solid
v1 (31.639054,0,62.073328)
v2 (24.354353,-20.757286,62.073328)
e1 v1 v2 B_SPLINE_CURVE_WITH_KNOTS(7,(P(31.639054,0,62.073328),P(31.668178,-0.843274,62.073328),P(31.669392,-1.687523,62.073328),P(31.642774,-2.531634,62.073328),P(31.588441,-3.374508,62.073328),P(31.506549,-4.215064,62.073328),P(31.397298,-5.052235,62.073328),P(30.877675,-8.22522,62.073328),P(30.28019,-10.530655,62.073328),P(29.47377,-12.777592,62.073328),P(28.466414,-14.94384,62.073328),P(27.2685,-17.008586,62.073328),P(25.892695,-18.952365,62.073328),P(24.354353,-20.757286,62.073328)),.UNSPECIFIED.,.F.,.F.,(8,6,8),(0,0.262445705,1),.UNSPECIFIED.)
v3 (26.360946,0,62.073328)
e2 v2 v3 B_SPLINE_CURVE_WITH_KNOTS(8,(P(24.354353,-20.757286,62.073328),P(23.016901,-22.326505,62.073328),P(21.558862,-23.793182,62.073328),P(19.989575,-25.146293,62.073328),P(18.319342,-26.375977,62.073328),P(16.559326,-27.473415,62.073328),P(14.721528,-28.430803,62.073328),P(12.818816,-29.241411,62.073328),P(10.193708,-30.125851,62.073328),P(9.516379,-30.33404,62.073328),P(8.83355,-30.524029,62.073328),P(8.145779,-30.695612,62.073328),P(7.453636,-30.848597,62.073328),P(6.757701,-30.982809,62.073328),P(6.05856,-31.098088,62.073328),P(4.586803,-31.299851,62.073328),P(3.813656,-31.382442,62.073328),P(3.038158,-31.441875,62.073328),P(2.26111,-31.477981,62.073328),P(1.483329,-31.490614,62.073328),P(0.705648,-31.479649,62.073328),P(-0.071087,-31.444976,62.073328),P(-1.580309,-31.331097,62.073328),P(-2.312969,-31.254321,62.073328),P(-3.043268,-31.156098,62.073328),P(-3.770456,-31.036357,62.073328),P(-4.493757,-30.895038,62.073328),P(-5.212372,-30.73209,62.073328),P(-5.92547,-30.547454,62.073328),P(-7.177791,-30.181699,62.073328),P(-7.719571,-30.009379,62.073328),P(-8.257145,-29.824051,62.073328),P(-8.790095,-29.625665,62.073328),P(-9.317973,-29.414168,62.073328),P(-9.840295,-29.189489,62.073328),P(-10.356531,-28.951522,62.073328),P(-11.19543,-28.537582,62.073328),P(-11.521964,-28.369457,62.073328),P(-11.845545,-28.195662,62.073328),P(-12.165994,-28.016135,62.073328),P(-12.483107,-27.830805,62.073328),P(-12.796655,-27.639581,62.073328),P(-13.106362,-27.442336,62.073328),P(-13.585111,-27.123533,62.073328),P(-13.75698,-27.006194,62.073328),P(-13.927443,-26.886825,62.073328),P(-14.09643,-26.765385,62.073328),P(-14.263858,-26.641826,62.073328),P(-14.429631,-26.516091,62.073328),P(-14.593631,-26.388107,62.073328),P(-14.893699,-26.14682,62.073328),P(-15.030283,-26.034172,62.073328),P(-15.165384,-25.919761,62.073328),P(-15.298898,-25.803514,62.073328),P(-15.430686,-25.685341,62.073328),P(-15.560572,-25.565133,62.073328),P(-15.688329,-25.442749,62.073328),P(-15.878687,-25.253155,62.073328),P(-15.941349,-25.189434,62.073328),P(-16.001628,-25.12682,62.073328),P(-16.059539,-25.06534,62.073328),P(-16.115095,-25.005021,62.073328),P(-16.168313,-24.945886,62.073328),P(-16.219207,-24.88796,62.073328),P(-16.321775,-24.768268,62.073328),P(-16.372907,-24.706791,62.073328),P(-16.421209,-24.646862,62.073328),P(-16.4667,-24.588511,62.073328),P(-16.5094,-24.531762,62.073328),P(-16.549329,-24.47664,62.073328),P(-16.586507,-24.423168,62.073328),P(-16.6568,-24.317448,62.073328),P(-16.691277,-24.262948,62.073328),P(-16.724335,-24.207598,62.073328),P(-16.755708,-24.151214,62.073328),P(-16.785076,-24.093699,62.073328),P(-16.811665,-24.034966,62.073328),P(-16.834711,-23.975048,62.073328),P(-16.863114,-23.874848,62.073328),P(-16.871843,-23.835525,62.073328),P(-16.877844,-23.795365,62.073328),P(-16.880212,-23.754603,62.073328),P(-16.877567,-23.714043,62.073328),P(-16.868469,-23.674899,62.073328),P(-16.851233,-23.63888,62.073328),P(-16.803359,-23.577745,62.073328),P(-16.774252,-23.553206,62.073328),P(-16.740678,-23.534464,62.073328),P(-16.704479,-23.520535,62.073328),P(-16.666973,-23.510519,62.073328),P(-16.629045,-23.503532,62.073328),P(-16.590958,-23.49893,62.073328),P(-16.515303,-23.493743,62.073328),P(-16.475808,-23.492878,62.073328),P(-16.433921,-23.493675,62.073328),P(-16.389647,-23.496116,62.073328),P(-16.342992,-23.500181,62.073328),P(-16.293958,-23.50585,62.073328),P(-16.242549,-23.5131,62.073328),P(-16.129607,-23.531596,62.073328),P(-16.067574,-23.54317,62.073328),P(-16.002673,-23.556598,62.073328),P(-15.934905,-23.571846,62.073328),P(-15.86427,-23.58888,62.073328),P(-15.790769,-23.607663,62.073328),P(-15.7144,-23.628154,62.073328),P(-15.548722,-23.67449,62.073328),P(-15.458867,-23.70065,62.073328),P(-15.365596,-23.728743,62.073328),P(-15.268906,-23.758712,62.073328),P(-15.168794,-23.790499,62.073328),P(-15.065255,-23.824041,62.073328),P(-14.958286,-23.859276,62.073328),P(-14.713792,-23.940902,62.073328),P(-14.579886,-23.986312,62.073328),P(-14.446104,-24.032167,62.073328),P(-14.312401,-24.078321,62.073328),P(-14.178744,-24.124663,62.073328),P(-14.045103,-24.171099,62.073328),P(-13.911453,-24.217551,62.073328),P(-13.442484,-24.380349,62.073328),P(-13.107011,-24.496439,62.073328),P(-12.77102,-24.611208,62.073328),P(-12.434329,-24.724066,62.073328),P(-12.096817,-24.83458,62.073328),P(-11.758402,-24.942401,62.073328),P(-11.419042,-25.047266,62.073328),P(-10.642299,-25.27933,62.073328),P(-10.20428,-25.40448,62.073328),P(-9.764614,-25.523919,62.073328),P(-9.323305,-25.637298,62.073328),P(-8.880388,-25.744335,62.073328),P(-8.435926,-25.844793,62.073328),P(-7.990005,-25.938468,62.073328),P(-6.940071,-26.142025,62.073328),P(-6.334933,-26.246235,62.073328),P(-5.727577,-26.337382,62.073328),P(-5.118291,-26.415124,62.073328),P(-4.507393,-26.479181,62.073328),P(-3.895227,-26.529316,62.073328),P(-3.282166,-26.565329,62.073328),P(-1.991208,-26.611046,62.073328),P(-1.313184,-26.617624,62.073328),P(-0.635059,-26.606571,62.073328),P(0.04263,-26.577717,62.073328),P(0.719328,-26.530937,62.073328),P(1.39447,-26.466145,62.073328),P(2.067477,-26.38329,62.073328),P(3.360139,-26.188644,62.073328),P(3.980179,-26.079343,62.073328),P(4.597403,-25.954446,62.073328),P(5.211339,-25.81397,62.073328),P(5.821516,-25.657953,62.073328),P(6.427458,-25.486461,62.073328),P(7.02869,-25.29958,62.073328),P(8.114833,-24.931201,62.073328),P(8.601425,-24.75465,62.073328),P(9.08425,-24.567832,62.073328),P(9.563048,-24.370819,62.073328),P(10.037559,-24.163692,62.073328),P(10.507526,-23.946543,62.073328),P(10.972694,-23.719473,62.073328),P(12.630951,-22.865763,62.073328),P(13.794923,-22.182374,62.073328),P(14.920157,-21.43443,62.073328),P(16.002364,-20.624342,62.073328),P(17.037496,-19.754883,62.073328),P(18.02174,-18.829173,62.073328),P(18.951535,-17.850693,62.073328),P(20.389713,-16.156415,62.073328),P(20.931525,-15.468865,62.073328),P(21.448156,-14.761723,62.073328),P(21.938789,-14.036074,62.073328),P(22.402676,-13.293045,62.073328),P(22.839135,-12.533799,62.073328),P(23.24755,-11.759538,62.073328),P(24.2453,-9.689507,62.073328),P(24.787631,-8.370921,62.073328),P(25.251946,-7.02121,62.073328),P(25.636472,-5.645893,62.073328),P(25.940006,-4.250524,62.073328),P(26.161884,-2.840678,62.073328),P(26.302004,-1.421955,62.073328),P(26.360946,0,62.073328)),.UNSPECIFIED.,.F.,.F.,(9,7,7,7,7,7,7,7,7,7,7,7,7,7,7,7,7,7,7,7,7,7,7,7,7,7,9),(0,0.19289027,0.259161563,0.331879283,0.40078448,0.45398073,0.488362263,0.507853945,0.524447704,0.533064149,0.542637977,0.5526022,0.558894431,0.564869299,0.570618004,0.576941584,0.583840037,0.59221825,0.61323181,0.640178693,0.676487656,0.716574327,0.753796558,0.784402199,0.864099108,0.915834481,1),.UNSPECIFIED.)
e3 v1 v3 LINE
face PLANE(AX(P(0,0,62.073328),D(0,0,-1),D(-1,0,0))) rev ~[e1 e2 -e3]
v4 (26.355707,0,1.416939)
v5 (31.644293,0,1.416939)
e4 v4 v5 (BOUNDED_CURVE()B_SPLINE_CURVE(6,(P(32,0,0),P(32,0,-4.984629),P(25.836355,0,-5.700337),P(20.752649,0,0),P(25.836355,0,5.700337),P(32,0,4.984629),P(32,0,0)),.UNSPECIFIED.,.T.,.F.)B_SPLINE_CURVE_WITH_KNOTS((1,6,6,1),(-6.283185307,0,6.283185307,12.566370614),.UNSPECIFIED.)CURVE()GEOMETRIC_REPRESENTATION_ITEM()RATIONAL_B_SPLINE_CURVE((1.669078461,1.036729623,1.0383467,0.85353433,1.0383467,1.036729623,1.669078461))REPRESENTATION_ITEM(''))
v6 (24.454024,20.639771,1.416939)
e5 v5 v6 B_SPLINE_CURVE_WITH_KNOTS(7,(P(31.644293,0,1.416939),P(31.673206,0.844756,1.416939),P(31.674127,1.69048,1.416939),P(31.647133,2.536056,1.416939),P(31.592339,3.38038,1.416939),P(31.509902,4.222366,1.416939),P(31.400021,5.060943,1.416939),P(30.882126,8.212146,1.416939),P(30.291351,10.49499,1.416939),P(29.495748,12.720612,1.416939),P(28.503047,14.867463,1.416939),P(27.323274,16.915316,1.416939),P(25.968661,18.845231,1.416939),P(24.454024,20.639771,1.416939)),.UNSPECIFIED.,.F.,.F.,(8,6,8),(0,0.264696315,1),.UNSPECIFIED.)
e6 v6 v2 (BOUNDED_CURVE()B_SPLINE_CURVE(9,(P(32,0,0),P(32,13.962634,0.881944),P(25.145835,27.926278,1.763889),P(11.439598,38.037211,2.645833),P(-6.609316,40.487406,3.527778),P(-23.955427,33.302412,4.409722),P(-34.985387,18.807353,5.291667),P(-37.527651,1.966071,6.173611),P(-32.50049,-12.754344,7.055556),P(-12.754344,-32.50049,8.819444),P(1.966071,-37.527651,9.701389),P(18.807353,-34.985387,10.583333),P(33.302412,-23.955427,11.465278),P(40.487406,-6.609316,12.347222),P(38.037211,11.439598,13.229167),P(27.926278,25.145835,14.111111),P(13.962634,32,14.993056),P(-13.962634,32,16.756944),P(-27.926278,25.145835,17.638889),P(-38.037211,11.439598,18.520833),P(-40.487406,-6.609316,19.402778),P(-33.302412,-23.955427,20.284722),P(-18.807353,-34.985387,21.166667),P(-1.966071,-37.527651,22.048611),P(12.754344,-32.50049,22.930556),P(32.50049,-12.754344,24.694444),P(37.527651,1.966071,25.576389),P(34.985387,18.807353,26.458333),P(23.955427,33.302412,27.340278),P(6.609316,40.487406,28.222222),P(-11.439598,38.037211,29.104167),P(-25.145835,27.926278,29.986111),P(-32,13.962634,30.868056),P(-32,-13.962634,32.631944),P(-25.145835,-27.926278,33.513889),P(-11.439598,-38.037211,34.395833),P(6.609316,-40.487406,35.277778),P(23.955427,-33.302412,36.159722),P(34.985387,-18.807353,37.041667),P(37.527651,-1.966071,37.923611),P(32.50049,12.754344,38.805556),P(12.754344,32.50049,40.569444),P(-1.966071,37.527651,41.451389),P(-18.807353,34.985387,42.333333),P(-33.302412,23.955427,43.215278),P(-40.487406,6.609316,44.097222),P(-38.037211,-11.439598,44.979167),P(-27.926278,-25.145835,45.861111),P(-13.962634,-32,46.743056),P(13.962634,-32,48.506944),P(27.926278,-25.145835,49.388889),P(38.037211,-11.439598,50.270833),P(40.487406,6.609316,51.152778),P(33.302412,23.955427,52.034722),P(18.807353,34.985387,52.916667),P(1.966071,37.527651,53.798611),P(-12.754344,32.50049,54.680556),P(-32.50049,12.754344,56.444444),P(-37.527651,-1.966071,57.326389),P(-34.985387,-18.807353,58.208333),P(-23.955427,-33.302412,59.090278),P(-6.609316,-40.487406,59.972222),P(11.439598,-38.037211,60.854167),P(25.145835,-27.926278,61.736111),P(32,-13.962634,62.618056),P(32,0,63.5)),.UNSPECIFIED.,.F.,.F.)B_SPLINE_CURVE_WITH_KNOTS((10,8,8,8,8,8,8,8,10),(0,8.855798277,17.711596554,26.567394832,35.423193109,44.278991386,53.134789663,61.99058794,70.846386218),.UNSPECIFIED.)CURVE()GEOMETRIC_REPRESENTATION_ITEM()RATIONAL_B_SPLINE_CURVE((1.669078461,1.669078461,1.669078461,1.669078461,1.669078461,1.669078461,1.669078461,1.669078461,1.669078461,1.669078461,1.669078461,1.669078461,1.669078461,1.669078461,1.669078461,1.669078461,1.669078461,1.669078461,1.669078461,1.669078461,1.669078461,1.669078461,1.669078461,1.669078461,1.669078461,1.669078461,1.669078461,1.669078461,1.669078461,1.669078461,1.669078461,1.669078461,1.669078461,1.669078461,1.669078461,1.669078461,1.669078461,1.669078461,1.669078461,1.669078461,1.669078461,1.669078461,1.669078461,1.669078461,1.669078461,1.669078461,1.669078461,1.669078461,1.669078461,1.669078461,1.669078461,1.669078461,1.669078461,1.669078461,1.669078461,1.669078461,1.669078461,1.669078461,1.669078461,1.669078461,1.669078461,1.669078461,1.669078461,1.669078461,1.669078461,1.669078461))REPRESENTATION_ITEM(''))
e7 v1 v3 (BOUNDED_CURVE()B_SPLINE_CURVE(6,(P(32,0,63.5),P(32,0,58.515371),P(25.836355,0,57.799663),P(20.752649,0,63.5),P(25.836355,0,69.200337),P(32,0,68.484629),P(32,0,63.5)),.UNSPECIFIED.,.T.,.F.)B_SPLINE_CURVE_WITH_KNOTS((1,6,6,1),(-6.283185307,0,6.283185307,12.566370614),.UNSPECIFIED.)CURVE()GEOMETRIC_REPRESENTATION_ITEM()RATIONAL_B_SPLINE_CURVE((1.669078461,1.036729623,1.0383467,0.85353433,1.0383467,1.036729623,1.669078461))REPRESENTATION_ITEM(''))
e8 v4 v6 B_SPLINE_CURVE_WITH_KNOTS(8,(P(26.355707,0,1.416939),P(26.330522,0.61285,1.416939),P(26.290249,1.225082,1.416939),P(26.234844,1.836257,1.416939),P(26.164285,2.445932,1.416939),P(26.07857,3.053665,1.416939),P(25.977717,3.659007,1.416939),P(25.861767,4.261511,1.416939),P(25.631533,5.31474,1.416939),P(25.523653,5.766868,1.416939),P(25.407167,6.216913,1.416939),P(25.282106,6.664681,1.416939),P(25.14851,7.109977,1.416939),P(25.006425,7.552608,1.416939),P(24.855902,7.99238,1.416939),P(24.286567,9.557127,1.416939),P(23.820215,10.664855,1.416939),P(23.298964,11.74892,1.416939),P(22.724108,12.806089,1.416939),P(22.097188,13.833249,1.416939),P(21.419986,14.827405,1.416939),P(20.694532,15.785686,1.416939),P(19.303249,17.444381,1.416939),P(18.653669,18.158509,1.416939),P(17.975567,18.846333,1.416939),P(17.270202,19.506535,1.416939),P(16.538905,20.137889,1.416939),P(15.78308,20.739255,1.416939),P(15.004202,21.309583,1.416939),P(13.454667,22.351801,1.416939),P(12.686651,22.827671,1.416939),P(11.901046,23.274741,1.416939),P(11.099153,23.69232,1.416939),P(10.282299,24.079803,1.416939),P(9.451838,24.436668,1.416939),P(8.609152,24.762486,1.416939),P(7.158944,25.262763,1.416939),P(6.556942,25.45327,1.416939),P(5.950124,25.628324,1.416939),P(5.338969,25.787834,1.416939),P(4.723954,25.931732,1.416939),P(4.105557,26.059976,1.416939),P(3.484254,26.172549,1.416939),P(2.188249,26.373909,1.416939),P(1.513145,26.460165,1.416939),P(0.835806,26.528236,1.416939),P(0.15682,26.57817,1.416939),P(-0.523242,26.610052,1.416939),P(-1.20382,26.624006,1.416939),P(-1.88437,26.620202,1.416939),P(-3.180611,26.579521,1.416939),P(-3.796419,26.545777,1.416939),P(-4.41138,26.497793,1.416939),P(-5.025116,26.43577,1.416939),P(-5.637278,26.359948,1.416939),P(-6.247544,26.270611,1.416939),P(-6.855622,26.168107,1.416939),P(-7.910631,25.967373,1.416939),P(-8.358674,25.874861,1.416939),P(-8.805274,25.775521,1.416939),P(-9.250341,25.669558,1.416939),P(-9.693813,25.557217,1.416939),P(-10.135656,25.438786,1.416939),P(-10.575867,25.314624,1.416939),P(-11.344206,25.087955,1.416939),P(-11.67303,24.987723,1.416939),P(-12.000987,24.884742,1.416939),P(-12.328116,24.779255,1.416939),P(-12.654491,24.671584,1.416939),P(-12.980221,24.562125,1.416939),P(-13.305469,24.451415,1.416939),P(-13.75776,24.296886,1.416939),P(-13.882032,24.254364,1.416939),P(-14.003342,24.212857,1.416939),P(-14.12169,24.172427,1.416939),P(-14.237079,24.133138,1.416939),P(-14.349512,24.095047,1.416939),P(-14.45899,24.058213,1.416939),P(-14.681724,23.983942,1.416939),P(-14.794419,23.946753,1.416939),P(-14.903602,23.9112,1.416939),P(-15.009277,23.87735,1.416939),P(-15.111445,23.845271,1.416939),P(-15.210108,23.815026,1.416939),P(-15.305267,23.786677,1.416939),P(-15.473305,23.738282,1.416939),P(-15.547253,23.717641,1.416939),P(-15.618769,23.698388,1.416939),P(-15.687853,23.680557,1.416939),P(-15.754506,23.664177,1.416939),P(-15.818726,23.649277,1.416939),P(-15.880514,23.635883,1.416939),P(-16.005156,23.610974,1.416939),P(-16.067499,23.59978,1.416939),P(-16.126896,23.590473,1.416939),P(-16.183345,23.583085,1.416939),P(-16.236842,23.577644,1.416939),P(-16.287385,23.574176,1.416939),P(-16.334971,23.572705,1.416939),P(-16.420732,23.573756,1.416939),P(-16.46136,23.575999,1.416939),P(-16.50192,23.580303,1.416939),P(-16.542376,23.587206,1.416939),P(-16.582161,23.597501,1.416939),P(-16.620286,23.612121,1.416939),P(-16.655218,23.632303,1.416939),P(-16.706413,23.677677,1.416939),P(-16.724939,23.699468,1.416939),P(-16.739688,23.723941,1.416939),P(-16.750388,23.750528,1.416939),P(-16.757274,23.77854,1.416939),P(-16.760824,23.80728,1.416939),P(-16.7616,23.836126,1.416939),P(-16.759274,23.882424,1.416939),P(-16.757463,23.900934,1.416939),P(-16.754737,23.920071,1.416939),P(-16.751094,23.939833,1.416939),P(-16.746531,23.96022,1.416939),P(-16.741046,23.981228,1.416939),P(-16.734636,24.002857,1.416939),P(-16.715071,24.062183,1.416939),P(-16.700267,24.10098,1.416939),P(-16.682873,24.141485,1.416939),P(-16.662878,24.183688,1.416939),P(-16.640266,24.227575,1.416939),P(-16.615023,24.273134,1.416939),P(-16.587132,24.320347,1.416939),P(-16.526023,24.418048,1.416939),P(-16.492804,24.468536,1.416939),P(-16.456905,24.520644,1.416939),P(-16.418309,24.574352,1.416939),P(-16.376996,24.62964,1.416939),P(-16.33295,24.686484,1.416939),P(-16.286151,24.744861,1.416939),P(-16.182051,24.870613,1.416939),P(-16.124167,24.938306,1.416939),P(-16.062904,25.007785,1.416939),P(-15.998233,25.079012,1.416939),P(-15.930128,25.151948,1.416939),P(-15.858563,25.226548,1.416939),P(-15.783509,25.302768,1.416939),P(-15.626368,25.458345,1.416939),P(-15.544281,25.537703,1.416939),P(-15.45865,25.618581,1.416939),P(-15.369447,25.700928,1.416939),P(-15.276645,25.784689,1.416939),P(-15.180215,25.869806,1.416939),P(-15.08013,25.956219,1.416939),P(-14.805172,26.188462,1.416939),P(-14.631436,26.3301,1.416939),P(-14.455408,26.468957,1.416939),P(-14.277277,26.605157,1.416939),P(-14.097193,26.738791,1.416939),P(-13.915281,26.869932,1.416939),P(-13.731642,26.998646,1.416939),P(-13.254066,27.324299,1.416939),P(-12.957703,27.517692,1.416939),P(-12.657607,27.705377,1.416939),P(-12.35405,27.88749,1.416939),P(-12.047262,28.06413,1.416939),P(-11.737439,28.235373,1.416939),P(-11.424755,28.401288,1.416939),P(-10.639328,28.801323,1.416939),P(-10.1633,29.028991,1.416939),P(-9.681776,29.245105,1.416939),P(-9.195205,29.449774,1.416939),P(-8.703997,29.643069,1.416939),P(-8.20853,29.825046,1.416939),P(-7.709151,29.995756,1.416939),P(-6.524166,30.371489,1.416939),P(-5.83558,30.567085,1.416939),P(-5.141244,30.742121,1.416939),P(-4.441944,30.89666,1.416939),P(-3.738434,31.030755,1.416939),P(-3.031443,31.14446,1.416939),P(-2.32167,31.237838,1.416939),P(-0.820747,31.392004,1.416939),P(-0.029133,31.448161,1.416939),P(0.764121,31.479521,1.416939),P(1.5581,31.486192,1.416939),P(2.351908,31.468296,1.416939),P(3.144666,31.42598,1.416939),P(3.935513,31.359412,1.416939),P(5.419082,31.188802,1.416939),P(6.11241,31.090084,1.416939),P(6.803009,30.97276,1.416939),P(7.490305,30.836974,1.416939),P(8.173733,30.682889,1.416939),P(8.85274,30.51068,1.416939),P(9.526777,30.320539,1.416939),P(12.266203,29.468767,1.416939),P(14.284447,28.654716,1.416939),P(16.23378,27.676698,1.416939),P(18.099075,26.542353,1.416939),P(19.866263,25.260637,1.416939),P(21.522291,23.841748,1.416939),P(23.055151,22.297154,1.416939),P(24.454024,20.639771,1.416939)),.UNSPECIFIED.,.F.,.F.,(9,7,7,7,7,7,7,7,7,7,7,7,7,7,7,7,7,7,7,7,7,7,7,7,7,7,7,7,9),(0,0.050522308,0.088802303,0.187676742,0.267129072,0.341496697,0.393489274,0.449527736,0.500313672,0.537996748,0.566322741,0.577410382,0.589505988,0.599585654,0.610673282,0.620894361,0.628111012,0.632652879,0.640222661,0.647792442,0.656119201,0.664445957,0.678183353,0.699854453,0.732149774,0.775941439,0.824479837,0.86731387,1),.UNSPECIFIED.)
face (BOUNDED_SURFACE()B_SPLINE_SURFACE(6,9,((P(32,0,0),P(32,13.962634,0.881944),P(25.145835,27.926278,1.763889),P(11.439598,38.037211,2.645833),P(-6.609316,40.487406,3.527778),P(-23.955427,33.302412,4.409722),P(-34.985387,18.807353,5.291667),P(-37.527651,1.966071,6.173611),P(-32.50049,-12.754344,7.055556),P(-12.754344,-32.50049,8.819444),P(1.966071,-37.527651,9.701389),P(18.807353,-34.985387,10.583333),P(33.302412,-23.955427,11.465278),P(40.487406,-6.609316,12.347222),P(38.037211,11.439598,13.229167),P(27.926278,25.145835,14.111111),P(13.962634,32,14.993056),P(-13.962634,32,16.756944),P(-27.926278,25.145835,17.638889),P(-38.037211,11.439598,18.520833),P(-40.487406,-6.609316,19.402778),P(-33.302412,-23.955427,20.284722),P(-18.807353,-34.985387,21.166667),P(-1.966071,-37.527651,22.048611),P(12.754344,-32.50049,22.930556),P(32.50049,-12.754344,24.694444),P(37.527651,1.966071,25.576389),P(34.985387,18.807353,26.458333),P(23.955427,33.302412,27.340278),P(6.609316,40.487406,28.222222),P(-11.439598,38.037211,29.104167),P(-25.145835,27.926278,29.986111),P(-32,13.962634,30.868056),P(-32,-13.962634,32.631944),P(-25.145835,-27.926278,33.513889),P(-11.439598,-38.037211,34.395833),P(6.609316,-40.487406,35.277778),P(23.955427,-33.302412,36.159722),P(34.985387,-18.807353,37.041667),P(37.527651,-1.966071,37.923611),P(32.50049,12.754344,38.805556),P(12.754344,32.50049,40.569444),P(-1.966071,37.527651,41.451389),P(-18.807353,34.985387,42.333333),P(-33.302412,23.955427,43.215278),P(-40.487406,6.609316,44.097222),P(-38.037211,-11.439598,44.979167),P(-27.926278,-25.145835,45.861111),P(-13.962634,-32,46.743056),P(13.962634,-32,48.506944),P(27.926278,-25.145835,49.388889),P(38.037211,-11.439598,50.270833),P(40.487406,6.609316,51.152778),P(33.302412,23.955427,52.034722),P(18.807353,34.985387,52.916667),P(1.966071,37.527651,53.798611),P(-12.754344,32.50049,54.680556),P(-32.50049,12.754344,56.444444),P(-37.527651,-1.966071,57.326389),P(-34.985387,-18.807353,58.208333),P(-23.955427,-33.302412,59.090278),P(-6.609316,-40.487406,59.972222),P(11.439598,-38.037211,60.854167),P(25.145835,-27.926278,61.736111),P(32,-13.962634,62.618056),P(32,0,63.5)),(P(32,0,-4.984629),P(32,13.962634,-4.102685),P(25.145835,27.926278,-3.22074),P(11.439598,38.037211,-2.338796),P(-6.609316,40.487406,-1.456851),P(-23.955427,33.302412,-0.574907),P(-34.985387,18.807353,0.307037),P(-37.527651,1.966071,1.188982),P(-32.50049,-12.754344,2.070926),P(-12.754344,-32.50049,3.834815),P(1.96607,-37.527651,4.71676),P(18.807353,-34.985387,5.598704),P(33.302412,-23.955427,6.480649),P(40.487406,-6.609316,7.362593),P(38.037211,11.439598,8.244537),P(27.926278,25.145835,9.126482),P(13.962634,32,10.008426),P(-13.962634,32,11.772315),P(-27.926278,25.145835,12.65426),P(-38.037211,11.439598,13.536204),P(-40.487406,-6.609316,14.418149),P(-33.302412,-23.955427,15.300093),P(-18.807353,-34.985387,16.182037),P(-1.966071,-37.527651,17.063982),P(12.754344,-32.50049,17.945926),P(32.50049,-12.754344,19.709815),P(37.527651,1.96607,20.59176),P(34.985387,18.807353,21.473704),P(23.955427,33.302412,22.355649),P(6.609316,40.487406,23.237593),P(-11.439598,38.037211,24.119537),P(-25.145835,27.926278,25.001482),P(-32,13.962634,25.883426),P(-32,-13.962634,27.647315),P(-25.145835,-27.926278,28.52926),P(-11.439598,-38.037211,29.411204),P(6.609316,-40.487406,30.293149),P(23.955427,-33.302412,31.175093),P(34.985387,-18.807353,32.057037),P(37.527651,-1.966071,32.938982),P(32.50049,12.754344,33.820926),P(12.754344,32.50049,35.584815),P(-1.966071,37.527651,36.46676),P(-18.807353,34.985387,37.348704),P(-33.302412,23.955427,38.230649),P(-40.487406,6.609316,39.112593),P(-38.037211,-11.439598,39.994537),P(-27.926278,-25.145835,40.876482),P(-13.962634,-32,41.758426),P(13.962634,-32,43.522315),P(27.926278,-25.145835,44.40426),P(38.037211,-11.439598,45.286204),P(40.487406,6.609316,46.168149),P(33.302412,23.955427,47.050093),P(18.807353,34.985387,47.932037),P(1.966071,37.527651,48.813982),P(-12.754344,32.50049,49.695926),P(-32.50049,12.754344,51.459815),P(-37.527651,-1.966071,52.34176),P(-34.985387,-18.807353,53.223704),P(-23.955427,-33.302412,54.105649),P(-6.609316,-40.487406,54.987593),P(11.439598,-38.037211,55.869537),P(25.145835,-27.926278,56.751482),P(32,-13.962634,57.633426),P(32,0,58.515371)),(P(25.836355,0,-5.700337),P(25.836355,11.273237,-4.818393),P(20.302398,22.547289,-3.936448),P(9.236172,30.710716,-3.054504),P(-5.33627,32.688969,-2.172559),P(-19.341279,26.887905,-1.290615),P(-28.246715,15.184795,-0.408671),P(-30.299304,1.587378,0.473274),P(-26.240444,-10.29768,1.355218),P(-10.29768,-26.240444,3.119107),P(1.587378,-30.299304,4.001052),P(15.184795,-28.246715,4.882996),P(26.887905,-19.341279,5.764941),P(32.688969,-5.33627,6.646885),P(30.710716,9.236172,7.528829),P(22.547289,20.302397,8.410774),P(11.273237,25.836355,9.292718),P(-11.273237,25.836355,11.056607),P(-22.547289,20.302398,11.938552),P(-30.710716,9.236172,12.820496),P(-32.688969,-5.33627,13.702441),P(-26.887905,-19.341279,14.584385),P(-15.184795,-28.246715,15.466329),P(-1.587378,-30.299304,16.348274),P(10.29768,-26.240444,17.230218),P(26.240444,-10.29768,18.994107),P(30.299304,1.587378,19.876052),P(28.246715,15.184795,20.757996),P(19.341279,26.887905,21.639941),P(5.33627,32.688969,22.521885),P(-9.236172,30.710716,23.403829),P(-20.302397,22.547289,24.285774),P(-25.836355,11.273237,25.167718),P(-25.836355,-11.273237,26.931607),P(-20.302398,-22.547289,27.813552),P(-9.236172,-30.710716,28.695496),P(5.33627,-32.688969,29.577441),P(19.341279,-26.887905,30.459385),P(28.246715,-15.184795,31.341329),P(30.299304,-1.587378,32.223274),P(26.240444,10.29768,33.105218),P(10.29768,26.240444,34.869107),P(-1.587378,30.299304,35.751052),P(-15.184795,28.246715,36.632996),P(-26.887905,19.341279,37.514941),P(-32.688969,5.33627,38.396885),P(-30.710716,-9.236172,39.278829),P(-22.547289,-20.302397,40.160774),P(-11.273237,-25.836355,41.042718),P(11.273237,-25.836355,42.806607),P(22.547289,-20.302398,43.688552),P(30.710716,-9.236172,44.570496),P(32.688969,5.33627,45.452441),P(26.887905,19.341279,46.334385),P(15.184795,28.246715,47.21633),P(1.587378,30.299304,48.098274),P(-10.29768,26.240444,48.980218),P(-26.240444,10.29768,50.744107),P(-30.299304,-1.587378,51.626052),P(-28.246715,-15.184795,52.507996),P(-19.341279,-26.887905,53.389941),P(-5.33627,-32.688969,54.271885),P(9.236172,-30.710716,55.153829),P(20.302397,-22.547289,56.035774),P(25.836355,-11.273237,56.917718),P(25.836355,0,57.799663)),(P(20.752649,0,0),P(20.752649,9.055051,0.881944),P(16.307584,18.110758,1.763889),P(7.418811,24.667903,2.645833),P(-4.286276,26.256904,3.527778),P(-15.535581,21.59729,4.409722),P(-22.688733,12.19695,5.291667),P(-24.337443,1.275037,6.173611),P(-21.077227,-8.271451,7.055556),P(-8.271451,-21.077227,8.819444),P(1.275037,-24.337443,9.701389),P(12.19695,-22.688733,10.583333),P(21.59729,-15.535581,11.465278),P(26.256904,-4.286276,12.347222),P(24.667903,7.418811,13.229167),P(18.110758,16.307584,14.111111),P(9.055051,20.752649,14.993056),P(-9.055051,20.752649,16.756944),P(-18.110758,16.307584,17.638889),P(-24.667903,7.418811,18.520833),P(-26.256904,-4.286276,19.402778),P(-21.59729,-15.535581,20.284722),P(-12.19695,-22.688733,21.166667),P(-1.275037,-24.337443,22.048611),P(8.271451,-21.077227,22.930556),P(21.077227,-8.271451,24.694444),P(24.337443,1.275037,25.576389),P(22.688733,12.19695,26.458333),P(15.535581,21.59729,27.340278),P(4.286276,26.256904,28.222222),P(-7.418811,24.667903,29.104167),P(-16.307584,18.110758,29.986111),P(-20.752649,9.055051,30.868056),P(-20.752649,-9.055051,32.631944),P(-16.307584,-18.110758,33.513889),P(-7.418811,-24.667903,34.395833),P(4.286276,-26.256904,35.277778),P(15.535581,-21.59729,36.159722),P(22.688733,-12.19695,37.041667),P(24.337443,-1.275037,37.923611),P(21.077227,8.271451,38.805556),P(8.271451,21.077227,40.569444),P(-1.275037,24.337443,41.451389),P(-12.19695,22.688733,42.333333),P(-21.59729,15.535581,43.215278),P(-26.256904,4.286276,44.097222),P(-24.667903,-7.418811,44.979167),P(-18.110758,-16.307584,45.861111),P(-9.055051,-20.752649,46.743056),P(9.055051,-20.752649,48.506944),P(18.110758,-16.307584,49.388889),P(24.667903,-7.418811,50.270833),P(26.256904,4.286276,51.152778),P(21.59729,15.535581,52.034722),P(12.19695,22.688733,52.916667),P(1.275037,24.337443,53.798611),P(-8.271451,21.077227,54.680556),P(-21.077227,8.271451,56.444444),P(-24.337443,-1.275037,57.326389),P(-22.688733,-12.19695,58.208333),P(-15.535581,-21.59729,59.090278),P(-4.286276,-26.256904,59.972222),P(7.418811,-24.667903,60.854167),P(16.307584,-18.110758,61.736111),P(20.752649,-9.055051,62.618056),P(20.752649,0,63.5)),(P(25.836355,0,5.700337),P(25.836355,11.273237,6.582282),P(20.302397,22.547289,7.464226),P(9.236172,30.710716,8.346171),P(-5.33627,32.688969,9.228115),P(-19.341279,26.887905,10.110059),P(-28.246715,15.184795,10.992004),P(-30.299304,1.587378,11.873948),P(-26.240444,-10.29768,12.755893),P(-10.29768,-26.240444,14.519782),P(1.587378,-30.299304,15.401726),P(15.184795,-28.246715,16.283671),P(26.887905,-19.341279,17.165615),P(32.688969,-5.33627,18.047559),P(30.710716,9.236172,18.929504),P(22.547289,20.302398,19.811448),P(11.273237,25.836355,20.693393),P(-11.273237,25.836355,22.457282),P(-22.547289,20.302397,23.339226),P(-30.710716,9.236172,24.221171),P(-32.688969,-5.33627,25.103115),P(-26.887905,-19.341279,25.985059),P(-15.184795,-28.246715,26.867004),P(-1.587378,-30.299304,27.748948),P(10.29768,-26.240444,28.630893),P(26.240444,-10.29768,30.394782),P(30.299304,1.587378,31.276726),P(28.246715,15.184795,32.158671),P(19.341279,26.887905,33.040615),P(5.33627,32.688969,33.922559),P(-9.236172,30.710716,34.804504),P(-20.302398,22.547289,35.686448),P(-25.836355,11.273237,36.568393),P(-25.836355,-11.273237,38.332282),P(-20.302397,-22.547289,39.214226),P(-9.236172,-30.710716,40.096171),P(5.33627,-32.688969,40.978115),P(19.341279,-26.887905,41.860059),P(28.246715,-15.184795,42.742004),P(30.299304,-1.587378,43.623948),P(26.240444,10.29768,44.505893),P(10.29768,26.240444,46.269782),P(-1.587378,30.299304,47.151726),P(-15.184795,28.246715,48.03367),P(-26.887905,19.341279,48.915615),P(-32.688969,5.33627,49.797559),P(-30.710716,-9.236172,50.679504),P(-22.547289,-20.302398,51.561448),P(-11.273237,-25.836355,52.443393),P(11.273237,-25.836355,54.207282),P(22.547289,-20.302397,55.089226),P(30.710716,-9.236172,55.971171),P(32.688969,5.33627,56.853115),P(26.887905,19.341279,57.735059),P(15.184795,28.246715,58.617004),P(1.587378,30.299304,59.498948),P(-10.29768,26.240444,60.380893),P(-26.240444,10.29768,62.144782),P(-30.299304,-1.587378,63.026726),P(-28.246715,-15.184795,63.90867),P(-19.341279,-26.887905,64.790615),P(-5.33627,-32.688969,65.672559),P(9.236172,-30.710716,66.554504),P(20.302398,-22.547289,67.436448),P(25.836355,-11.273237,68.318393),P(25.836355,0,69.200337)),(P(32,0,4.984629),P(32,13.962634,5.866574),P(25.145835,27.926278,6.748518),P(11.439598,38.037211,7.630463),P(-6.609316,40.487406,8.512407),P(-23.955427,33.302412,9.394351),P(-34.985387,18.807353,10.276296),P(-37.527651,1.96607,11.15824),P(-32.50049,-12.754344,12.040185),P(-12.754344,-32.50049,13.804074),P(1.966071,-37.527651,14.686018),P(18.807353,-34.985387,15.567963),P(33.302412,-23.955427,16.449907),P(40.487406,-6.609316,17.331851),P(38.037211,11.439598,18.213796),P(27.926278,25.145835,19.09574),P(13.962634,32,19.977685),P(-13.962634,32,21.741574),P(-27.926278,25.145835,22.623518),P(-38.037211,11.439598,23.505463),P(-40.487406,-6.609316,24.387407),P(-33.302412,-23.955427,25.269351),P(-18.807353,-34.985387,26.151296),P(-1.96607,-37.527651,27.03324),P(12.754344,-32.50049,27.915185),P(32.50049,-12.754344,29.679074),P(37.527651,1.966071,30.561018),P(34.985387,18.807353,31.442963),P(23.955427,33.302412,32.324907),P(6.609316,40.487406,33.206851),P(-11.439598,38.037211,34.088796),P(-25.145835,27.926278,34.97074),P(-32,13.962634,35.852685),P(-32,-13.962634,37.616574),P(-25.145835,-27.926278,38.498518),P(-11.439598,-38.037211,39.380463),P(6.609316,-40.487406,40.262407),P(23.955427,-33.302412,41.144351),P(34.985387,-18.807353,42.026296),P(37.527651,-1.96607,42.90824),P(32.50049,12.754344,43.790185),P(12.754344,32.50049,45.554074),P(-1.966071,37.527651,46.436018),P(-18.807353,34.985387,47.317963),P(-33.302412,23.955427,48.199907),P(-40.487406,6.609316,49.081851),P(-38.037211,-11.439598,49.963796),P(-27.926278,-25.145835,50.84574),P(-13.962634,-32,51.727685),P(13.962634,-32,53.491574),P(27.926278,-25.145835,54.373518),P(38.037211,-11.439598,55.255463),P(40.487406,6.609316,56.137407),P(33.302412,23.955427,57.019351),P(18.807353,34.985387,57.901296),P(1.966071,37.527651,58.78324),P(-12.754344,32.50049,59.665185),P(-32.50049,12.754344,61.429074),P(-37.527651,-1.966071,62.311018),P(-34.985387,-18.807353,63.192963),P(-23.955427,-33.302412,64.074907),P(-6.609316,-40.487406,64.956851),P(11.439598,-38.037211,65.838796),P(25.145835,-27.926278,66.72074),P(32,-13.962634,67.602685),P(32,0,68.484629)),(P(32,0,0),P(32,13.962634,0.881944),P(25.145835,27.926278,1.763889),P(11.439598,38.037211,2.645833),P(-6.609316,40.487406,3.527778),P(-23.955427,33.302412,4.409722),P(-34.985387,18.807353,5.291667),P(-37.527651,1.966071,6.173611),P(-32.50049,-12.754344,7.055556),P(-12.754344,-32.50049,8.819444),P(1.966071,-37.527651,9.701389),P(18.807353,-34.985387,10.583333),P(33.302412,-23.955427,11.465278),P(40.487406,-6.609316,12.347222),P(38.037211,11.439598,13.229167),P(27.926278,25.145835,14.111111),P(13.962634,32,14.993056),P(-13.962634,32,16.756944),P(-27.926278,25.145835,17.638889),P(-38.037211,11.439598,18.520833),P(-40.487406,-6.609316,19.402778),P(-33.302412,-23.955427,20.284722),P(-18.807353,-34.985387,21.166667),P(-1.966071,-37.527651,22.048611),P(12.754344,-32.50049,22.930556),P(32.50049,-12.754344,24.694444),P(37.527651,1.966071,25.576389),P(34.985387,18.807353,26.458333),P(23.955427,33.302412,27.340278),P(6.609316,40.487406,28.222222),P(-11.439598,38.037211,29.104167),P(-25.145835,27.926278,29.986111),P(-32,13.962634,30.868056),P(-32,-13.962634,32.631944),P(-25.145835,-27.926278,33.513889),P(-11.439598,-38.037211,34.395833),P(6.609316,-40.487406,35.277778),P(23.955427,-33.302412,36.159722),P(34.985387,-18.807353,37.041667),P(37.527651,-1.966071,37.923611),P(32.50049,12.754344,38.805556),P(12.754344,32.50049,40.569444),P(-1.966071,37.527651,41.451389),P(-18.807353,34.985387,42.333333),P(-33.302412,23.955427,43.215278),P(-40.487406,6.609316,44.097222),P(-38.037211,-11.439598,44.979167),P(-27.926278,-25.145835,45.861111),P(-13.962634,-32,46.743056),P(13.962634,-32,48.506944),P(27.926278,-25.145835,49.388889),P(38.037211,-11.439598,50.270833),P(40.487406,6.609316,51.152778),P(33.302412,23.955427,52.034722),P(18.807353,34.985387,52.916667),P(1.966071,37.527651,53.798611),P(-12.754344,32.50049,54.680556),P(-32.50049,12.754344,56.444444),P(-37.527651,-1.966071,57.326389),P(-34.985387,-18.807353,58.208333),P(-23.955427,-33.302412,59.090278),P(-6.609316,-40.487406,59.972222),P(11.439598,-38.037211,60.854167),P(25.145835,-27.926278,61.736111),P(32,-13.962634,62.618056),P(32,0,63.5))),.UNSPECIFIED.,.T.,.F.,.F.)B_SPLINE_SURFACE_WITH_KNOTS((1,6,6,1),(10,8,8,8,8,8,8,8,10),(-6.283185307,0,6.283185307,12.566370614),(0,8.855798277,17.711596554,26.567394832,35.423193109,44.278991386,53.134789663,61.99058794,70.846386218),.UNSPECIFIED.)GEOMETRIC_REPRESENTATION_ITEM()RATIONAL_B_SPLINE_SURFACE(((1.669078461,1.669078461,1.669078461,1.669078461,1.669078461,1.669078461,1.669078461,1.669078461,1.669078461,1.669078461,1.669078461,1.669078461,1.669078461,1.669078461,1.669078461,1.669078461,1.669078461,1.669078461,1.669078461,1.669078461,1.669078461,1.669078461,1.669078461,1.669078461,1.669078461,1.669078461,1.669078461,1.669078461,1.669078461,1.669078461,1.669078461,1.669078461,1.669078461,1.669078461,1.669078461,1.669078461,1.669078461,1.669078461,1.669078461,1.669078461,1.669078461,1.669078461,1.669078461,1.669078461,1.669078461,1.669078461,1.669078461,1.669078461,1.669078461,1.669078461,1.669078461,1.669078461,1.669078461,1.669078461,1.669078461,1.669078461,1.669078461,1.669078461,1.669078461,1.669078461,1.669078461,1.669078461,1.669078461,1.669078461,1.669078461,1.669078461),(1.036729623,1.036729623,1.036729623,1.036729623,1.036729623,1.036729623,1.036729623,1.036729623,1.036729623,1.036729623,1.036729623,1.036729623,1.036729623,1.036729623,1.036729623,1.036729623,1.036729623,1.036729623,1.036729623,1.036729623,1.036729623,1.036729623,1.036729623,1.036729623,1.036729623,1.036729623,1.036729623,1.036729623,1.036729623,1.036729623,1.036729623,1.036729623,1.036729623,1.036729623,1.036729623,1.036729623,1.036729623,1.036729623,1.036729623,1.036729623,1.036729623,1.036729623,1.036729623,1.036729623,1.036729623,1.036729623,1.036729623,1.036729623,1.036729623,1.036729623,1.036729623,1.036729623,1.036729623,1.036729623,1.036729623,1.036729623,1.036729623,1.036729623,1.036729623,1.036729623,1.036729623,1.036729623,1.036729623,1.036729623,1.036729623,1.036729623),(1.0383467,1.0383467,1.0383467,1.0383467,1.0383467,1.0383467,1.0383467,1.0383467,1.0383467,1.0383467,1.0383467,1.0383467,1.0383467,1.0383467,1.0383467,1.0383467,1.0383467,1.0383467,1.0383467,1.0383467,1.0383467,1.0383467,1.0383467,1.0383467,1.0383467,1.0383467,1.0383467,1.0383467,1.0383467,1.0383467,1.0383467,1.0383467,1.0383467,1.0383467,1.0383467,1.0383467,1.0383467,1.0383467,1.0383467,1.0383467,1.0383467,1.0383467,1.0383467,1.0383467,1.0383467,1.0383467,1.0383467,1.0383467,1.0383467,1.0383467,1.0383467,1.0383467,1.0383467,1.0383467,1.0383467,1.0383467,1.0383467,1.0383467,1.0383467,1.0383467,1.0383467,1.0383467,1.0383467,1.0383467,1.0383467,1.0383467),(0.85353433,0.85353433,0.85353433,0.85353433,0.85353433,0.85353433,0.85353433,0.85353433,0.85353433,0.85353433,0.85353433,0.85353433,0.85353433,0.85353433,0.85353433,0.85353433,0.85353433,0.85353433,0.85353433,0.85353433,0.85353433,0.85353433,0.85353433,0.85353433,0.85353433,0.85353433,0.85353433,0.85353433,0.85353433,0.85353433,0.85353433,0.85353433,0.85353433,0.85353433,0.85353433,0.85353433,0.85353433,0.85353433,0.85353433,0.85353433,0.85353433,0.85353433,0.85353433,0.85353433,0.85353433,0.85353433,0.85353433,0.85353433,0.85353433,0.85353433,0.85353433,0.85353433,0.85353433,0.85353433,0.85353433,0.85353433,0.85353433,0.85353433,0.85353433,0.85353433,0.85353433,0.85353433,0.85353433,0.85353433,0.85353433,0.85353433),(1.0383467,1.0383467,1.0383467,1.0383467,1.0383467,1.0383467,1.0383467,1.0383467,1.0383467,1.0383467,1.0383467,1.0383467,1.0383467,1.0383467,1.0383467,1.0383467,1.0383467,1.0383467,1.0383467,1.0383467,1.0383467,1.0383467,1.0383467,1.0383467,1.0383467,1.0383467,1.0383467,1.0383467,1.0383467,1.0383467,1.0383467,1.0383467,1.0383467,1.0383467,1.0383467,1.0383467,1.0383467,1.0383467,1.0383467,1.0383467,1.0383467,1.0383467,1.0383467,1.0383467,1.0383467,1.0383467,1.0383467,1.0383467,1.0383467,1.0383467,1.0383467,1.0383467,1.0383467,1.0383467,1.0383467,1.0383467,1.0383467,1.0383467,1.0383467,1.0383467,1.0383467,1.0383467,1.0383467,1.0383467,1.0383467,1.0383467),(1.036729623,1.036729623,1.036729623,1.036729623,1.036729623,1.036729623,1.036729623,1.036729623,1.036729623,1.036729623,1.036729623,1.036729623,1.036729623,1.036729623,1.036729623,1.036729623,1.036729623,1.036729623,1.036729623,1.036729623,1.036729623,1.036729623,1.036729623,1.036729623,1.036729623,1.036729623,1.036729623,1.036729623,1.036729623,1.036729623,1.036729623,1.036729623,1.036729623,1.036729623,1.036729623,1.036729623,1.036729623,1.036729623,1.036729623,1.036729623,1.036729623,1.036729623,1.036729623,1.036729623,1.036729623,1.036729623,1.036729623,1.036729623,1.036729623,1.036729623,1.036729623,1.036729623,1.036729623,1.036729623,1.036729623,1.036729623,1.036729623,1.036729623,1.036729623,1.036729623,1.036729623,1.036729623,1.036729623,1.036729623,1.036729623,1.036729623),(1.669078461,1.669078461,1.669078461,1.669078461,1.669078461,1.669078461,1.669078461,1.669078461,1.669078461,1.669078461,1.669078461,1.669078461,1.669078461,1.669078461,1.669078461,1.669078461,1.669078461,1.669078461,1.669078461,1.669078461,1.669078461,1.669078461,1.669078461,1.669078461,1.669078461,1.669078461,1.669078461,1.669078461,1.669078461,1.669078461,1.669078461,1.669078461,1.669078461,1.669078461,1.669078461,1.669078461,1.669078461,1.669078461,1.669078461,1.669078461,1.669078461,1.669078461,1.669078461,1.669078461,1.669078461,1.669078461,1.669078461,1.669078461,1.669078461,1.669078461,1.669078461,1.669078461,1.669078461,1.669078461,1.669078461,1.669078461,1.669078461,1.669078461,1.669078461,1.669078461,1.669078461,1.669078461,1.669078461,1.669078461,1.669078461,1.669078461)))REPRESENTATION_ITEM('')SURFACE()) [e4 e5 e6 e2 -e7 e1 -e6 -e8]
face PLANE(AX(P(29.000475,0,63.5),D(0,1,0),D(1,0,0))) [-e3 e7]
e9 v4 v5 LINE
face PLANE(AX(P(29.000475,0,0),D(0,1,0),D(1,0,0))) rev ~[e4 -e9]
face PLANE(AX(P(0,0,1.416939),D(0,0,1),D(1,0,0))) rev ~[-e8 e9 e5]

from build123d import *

# Parameters (mm, degrees)
SWEEP1_PITCH  = 12.7
SWEEP1_HEIGHT = 63.5
SWEEP1_RADIUS = 29
SKETCH2_R     = 3


with BuildPart() as part:
    # Sweep1: sweep along a helix
    with BuildLine() as sweep1_path:
        Helix(SWEEP1_PITCH, SWEEP1_HEIGHT, SWEEP1_RADIUS, center=(0, 0, 0), direction=(0, 0, 1))
    # Sketch2 → Sweep1 (sweep)
    with BuildSketch(Plane(origin=(0, 0, 0), x_dir=(1, 0, 0), z_dir=(0, 1, 0))):
        with Locations((29, 0)):
            Circle(SKETCH2_R)
    sweep(path=sweep1_path.line, is_frenet=True)

    # SurfaceCut1
    split(bisect_by=Plane.XY.offset(1.41693866), keep=Keep.TOP)

    # SurfaceCut4
    split(bisect_by=Plane(origin=(0, 0, 62.0733282), x_dir=(-1, 0, 0), z_dir=(0, 0, -1)), keep=Keep.TOP)


solid = part.part
